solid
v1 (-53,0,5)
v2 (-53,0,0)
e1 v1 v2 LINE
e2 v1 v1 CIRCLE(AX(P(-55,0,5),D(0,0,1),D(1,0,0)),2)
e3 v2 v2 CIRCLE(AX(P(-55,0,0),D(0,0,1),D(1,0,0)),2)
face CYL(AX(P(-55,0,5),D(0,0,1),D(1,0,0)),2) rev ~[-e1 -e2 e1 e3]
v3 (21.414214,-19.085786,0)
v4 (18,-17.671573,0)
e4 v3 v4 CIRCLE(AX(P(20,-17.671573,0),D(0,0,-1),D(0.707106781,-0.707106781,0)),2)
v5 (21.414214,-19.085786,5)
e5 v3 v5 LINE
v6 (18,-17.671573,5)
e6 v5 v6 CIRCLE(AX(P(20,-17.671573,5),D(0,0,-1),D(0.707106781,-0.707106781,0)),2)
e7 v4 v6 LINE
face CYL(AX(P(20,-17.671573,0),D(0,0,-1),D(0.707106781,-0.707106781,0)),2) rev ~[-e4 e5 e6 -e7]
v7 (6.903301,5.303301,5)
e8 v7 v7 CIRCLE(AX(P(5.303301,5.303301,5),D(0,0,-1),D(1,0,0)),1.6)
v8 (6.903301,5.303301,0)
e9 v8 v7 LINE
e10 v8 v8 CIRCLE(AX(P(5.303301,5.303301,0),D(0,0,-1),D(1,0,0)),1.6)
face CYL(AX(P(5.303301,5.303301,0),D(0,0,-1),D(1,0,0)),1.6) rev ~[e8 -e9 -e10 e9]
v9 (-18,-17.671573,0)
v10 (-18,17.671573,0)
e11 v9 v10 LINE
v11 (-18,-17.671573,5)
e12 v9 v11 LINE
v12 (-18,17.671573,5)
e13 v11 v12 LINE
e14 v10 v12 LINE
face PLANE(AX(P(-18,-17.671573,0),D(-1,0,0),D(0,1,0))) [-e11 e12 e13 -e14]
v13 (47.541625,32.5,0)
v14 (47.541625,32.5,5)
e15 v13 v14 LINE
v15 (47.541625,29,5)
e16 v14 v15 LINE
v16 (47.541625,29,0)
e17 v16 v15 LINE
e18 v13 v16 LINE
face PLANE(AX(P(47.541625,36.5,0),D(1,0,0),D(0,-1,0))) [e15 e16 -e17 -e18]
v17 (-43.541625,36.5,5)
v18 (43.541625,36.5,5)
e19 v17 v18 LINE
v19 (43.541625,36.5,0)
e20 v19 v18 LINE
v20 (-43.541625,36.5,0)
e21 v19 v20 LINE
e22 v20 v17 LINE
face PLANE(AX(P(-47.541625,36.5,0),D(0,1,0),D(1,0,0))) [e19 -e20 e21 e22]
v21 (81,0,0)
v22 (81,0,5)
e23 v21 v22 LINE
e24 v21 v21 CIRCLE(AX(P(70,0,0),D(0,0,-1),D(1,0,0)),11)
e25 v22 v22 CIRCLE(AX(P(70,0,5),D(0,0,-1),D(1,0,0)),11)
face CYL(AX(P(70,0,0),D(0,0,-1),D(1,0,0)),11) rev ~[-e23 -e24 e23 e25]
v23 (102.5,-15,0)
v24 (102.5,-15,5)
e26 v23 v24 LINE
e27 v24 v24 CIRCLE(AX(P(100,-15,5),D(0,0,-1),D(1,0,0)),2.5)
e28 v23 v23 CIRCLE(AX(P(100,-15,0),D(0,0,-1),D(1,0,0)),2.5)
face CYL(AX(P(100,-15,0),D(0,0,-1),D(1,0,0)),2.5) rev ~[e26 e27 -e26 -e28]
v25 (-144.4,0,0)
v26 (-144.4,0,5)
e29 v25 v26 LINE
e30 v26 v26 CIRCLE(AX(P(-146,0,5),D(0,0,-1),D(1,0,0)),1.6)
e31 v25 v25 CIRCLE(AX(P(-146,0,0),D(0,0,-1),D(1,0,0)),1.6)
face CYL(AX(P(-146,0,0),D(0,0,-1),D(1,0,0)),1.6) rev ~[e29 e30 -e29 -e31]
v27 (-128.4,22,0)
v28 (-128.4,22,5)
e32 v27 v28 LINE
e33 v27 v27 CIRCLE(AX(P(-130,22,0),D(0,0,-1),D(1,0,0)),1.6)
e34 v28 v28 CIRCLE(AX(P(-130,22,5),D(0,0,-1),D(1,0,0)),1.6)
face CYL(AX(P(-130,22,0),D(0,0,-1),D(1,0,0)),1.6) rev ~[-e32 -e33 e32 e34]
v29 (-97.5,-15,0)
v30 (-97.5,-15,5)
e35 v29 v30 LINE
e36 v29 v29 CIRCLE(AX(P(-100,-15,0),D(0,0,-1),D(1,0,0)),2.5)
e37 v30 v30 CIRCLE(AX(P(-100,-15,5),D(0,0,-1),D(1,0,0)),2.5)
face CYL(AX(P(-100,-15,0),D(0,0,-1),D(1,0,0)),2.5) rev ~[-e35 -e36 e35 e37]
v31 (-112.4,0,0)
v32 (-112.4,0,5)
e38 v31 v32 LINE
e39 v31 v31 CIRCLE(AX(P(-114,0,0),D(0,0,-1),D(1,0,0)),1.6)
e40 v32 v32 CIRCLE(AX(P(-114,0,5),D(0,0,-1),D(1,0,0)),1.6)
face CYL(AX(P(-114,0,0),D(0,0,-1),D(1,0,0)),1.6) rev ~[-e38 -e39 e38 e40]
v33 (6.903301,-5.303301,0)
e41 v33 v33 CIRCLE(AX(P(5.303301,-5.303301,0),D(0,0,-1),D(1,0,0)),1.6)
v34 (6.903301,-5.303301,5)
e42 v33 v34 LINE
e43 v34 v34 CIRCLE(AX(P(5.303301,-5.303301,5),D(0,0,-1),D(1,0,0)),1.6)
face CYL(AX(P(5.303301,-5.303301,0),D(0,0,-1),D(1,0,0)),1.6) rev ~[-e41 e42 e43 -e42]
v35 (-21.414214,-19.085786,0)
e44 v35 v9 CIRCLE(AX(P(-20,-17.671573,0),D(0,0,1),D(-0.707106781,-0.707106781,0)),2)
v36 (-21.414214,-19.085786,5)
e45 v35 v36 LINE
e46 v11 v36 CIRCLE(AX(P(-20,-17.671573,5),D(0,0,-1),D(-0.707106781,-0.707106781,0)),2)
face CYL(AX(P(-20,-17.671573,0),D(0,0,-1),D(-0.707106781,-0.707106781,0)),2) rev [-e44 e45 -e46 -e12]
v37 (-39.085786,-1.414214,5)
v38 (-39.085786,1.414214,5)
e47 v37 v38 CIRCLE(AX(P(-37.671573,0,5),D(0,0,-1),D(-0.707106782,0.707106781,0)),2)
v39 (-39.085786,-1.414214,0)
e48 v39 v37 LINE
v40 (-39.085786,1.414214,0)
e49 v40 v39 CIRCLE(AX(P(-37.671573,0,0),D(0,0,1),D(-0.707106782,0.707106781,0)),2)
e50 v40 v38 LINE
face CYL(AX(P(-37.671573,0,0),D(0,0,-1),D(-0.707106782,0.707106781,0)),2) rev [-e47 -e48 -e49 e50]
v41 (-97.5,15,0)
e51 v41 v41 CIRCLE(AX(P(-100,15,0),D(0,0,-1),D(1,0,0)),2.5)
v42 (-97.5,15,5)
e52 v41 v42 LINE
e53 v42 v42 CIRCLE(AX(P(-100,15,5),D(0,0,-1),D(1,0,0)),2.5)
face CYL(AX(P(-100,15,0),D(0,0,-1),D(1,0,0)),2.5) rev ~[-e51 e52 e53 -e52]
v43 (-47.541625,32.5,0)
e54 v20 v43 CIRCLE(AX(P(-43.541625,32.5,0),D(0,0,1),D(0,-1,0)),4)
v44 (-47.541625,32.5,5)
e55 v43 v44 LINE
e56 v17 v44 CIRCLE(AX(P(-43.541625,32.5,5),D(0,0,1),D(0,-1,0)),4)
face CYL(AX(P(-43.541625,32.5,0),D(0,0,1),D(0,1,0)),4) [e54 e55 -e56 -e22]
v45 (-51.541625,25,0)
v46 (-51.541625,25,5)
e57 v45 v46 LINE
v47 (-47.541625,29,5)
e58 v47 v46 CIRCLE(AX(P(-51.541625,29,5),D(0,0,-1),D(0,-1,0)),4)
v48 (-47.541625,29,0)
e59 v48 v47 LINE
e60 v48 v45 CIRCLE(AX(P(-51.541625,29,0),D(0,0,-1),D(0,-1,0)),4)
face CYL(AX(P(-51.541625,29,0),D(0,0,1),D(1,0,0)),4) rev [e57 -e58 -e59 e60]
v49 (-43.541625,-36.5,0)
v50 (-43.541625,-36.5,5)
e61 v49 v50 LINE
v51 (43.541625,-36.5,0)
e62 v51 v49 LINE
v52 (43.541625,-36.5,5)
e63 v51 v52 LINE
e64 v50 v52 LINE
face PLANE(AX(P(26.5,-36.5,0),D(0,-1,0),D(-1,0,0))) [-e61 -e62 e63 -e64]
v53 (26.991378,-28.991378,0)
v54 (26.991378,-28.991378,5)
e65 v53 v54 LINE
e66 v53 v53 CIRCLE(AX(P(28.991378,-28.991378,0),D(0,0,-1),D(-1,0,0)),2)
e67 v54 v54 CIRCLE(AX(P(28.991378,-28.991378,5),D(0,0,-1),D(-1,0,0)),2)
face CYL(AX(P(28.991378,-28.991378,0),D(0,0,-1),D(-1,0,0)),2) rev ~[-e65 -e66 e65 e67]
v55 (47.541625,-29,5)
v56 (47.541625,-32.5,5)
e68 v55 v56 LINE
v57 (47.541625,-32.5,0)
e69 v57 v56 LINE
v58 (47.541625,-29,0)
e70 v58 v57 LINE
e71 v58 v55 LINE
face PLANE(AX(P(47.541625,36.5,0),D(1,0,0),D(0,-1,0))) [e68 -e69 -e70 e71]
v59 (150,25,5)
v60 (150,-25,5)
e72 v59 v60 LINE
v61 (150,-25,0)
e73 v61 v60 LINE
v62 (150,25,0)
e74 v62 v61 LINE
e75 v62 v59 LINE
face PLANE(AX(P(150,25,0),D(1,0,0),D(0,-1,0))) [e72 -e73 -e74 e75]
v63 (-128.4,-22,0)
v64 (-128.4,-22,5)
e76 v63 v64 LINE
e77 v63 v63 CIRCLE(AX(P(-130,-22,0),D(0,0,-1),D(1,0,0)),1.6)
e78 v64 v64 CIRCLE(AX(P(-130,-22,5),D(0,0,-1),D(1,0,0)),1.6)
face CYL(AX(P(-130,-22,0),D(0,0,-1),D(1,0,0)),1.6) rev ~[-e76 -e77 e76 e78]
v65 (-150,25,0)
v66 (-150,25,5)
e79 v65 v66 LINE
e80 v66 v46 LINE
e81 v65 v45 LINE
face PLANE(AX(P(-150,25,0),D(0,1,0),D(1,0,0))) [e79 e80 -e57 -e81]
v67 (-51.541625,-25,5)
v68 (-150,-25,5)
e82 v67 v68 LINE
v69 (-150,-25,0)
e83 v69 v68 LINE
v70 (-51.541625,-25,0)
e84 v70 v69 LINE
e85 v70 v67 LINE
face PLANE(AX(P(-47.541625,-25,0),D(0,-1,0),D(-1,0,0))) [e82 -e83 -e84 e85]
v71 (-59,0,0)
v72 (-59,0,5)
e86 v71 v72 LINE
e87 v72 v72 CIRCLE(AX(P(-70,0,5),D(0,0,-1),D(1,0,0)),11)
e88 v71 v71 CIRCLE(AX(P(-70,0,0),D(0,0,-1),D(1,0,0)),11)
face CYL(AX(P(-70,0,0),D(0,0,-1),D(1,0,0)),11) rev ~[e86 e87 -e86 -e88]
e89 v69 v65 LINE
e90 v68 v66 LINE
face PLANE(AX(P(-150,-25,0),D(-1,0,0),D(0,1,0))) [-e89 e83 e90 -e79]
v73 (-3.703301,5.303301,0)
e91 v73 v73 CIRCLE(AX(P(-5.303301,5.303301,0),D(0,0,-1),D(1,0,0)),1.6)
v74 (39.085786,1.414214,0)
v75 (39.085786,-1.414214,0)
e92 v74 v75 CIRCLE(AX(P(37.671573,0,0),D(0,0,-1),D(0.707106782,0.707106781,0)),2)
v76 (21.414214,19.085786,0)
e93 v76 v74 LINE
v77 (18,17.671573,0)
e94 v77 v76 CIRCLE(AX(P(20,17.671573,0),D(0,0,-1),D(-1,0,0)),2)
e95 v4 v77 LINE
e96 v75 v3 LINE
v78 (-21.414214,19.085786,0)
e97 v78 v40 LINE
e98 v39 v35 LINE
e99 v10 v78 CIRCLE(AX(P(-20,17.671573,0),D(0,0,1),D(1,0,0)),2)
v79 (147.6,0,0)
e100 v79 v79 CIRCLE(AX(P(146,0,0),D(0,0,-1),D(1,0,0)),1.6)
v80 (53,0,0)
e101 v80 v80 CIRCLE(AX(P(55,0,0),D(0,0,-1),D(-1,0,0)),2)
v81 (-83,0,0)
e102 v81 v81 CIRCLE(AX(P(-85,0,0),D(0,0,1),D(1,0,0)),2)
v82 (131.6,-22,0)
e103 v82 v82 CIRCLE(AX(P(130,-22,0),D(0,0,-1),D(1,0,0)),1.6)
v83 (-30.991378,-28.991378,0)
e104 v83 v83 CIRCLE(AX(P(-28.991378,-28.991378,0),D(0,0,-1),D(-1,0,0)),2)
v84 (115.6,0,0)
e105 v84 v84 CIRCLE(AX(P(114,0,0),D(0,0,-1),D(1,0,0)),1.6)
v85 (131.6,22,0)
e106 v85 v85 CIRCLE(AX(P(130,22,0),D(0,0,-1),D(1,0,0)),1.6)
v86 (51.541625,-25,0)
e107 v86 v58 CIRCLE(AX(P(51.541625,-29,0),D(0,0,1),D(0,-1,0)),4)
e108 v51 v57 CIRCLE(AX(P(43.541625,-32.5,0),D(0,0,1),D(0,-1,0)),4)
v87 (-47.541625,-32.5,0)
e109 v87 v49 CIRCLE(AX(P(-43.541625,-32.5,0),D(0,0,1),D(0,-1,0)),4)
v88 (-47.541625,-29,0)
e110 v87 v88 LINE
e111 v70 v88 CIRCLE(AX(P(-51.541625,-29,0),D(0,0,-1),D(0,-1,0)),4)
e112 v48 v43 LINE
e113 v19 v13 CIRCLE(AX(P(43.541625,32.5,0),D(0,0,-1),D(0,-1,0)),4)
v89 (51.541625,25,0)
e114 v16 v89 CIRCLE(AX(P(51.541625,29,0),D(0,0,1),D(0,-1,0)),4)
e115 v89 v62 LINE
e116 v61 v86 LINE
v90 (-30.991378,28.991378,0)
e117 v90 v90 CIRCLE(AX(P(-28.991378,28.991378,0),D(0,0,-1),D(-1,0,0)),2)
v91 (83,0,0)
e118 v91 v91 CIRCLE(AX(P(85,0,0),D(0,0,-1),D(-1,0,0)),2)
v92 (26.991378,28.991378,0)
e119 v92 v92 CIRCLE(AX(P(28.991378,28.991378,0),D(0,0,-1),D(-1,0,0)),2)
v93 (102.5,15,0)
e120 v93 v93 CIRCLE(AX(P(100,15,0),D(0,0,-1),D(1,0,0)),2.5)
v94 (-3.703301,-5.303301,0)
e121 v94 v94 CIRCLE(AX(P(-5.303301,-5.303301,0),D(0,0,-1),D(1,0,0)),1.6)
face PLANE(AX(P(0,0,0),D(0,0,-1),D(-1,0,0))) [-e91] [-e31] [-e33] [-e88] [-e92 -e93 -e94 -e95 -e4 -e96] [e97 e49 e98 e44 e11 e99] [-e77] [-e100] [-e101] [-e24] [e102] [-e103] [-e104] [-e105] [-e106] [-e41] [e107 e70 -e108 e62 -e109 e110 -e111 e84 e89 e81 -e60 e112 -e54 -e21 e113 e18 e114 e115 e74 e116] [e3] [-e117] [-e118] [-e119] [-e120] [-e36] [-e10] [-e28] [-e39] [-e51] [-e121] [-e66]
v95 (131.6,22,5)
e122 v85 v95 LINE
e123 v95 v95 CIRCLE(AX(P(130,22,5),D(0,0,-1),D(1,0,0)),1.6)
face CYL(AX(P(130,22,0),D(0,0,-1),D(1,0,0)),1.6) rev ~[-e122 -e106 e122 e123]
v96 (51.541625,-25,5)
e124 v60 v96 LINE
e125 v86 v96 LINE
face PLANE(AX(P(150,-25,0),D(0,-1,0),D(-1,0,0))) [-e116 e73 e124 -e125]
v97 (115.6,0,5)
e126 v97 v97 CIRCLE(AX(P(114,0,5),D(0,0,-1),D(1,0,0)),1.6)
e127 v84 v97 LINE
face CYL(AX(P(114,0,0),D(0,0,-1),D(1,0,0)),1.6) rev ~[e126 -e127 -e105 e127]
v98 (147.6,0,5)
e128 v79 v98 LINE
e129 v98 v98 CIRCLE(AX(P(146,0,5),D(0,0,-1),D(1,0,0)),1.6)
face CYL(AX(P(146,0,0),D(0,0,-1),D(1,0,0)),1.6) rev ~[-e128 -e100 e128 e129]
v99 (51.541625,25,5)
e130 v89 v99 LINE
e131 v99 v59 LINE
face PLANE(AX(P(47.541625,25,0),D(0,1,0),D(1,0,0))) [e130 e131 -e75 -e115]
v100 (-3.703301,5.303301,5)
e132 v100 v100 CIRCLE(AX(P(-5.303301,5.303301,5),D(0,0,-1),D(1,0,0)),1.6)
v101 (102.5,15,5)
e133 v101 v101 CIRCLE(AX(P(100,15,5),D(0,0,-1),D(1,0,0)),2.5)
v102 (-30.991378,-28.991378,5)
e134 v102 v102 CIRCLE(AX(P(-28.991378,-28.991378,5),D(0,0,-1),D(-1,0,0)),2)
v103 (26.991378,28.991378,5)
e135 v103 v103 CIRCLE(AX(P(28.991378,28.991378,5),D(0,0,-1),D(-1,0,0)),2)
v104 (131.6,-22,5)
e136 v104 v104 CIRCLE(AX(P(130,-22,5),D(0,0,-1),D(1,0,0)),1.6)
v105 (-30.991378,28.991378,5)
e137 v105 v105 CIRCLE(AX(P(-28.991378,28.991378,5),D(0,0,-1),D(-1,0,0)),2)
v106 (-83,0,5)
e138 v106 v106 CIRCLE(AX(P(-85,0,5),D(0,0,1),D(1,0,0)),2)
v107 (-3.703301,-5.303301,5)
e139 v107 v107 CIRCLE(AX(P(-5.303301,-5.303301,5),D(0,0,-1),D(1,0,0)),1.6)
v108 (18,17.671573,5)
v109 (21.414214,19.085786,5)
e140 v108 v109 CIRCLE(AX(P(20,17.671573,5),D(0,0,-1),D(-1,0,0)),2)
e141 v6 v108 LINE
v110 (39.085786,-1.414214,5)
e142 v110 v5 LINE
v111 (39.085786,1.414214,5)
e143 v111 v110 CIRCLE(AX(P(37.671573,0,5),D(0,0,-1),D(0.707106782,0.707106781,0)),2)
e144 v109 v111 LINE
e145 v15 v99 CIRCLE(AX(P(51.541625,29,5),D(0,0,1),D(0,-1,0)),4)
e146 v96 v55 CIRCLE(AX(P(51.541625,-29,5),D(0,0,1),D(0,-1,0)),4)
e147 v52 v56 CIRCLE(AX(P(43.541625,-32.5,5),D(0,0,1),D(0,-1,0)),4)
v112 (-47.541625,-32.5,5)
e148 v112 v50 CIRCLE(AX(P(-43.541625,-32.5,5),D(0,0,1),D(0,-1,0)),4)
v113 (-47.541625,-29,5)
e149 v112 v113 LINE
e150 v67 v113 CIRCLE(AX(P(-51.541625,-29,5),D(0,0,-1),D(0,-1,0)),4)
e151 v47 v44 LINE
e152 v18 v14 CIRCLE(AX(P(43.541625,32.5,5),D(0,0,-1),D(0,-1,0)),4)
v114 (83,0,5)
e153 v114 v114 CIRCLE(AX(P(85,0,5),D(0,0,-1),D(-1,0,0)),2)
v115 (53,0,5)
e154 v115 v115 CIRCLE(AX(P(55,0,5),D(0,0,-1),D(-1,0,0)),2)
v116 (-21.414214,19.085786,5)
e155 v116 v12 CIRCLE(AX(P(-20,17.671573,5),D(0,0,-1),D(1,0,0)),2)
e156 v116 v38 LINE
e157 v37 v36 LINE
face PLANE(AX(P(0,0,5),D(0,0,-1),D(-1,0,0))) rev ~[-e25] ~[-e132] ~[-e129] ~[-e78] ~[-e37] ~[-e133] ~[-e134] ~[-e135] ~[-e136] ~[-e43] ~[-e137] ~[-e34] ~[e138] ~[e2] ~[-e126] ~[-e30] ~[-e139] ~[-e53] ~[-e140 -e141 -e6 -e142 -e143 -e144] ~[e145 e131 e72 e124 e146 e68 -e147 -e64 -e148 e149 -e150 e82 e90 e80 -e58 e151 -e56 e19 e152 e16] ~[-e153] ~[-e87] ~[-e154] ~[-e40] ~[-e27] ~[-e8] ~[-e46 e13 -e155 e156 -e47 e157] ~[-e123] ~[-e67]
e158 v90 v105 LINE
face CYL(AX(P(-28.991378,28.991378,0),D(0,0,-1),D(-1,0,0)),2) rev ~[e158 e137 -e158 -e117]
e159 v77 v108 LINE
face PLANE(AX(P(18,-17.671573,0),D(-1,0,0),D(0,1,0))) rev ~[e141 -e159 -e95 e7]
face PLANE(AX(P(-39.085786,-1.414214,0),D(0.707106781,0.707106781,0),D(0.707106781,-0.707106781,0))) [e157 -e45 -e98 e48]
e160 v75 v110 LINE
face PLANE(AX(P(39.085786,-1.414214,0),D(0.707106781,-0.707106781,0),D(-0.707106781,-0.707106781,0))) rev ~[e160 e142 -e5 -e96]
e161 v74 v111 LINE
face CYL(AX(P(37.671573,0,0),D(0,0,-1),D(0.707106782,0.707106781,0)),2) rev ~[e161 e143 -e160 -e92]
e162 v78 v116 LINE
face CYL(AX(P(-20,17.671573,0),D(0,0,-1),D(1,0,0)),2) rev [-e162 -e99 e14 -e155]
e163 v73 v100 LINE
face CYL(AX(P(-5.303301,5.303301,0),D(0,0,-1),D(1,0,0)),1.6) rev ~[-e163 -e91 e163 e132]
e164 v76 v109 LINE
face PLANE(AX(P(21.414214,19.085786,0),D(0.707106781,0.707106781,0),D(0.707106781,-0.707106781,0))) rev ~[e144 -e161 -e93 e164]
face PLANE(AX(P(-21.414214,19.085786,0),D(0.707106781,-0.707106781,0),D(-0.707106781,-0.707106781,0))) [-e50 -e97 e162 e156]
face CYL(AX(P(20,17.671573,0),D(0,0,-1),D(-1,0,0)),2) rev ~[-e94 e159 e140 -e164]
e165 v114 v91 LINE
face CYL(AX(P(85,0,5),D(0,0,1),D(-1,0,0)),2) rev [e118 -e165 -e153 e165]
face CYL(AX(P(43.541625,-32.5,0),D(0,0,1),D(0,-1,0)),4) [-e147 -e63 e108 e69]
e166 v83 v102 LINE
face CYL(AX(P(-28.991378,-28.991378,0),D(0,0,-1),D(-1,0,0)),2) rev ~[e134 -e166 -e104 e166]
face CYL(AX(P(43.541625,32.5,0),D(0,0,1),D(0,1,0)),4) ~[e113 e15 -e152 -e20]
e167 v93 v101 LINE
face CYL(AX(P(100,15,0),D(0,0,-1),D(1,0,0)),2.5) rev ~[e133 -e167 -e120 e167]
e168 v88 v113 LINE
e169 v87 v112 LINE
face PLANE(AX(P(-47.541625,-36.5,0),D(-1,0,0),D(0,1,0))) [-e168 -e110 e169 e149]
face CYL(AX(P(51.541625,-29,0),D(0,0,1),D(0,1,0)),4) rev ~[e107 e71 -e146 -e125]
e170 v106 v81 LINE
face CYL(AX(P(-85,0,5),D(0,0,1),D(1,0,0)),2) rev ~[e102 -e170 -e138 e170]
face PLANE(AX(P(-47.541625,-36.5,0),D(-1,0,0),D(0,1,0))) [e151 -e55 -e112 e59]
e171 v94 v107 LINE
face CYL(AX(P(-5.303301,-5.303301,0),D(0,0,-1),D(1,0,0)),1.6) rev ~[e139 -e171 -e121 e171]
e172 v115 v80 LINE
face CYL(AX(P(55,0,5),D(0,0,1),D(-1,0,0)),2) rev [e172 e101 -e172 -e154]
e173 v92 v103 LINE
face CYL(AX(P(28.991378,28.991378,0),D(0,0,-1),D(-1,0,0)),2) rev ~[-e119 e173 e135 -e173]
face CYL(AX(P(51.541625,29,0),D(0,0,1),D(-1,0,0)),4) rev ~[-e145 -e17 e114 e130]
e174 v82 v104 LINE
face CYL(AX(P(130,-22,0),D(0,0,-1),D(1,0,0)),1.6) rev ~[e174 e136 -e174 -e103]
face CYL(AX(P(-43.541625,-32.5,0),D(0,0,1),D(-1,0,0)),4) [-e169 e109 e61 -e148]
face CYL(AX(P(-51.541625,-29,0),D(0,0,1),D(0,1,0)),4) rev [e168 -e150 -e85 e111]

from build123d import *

# Parameters (mm, degrees)
SKETCH_1_R          = 2.1
SKETCH_1_R_2        = 1.6
SKETCH_1_R_3        = 11
SKETCH_1_R_4        = 2.5
EXTRUDE_1_DEPTH     = 5
SKETCH_2_R          = 3.689501017
SKETCH_2_R_2        = 3.294011366
EXTRUDE_2_DEPTH     = 5
CUT_EXTRUDE_1_REACH = 156.458
SKETCH_3_R          = 2
SKETCH_5_W          = 25.495020877
SKETCH_5_H          = 33.419148988
EXTRUDE_3_DEPTH     = 5
CUT_EXTRUDE_2_REACH = 156.458
SKETCH_4_R          = 2
FILLET_1_R          = 4
CUT_EXTRUDE_3_DEPTH = 10


with BuildPart() as part:
    # 草图1 → 凸台-拉伸1 (new body)
    with BuildSketch(Plane(origin=(0, 0, 0), x_dir=(-1, 0, 0), z_dir=(0, 0, -1))):
        with BuildLine():
            Line((-26.5, -36.5), (26.5, -36.5))
            ThreePointArc((26.5, -36.5), (31.295831523, -35.274964387), (34.916650165, -31.9))
            ThreePointArc((34.916650165, -31.9), (40.347878128, -26.837553419), (47.541625413, -25))
            Line((47.541625413, -25), (150, -25))
            Line((150, -25), (150, 25))
            Line((150, 25), (47.541625413, 25))
            ThreePointArc((47.541625413, 25), (40.347878128, 26.837553419), (34.916650165, 31.9))
            ThreePointArc((34.916650165, 31.9), (31.295831523, 35.274964387), (26.5, 36.5))
            Line((26.5, 36.5), (-26.5, 36.5))
            ThreePointArc((-26.5, 36.5), (-31.295831523, 35.274964387), (-34.916650165, 31.9))
            ThreePointArc((-34.916650165, 31.9), (-40.347878128, 26.837553419), (-47.541625413, 25))
            Line((-47.541625413, 25), (-150, 25))
            Line((-150, 25), (-150, -25))
            Line((-150, -25), (-47.541625413, -25))
            ThreePointArc((-47.541625413, -25), (-40.347878128, -26.837553419), (-34.916650165, -31.9))
            ThreePointArc((-34.916650165, -31.9), (-31.295831523, -35.274964387), (-26.5, -36.5))
        make_face()
        with Locations(Location((-29, 29, 0), (0, 0, 180))):
            Circle(SKETCH_1_R, mode=Mode.SUBTRACT)
        with Locations(Location((-29, -29, 0), (0, 0, 180))):
            Circle(SKETCH_1_R, mode=Mode.SUBTRACT)
        with Locations(Location((29, -29, 0), (0, 0, 180))):
            Circle(SKETCH_1_R, mode=Mode.SUBTRACT)
        with Locations(Location((29, 29, 0), (0, 0, 180))):
            Circle(SKETCH_1_R, mode=Mode.SUBTRACT)
        with Locations(Location((-54.5, 0, 0), (0, 0, 180))):
            Circle(SKETCH_1_R, mode=Mode.SUBTRACT)
        with Locations(Location((-114, 0, 0), (0, 0, 180))):
            Circle(SKETCH_1_R_2, mode=Mode.SUBTRACT)
        with Locations(Location((-5.303300859, 5.303300859, 0), (0, 0, 180))):
            Circle(SKETCH_1_R_2, mode=Mode.SUBTRACT)
        with Locations(Location((5.303300859, 5.303300859, 0), (0, 0, 180))):
            Circle(SKETCH_1_R_2, mode=Mode.SUBTRACT)
        with Locations(Location((70, 0, 0), (0, 0, 180))):
            Circle(SKETCH_1_R_3, mode=Mode.SUBTRACT)
        with Locations(Location((-85.5, 0, 0), (0, 0, 180))):
            Circle(SKETCH_1_R, mode=Mode.SUBTRACT)
        with Locations(Location((85.5, 0, 0), (0, 0, 180))):
            Circle(SKETCH_1_R, mode=Mode.SUBTRACT)
        with Locations(Location((54.5, 0, 0), (0, 0, 180))):
            Circle(SKETCH_1_R, mode=Mode.SUBTRACT)
        with Locations(Location((-70, 0, 0), (0, 0, 180))):
            Circle(SKETCH_1_R_3, mode=Mode.SUBTRACT)
        with Locations(Location((5.303300859, -5.303300859, 0), (0, 0, 180))):
            Circle(SKETCH_1_R_2, mode=Mode.SUBTRACT)
        with Locations(Location((-5.303300859, -5.303300859, 0), (0, 0, 180))):
            Circle(SKETCH_1_R_2, mode=Mode.SUBTRACT)
        with Locations(Location((114, 0, 0), (0, 0, 180))):
            Circle(SKETCH_1_R_2, mode=Mode.SUBTRACT)
        with Locations(Location((146, 0, 0), (0, 0, 180))):
            Circle(SKETCH_1_R_2, mode=Mode.SUBTRACT)
        with Locations(Location((130, 22, 0), (0, 0, 180))):
            Circle(SKETCH_1_R_2, mode=Mode.SUBTRACT)
        with Locations(Location((130, -22, 0), (0, 0, 180))):
            Circle(SKETCH_1_R_2, mode=Mode.SUBTRACT)
        with Locations(Location((-130, -22, 0), (0, 0, 180))):
            Circle(SKETCH_1_R_2, mode=Mode.SUBTRACT)
        with Locations(Location((-130, 22, 0), (0, 0, 180))):
            Circle(SKETCH_1_R_2, mode=Mode.SUBTRACT)
        with Locations(Location((-146, 0, 0), (0, 0, 180))):
            Circle(SKETCH_1_R_2, mode=Mode.SUBTRACT)
        with Locations(Location((100, 15, 0), (0, 0, 180))):
            Circle(SKETCH_1_R_4, mode=Mode.SUBTRACT)
        with Locations(Location((-100, 15, 0), (0, 0, 180))):
            Circle(SKETCH_1_R_4, mode=Mode.SUBTRACT)
        with Locations(Location((-100, -15, 0), (0, 0, 180))):
            Circle(SKETCH_1_R_4, mode=Mode.SUBTRACT)
        with Locations(Location((100, -15, 0), (0, 0, 180))):
            Circle(SKETCH_1_R_4, mode=Mode.SUBTRACT)
    extrude(amount=-EXTRUDE_1_DEPTH)

    # 草图2 → 凸台-拉伸2 (add)
    with BuildSketch(Plane.XY.offset(5)):
        with Locations((-85.5, 0)):
            Circle(SKETCH_2_R)
        with Locations((-54.5, 0)):
            Circle(SKETCH_2_R_2)
    extrude_2 = extrude(amount=-EXTRUDE_2_DEPTH)

    # 草图3 → 切除-拉伸1 (cut, up to next)
    with BuildSketch(Plane.XY.offset(5), mode=Mode.PRIVATE) as cut_extrude_1_sk1:
        with Locations((-85, 0)):
            Circle(SKETCH_3_R)
    cut_extrude_1_tool1 = extrude(cut_extrude_1_sk1.sketch, amount=-CUT_EXTRUDE_1_REACH, mode=Mode.PRIVATE) & part.part
    # 草图3 → 切除-拉伸1 (cut, up to next)
    with BuildSketch(Plane.XY.offset(5), mode=Mode.PRIVATE) as cut_extrude_1_sk2:
        with Locations((-55, 0)):
            Circle(SKETCH_3_R)
    cut_extrude_1_tool2 = extrude(cut_extrude_1_sk2.sketch, amount=-CUT_EXTRUDE_1_REACH, mode=Mode.PRIVATE) & part.part
    cut_extrude_1_1 = cut_extrude_1_tool1.solids().sort_by_distance((-85, 0, 5))[0]
    add(cut_extrude_1_1, mode=Mode.SUBTRACT)
    cut_extrude_1_2 = cut_extrude_1_tool2.solids().sort_by_distance((-55, 0, 5))[0]
    add(cut_extrude_1_2, mode=Mode.SUBTRACT)
    cut_extrude_1 = cut_extrude_1_1 + cut_extrude_1_2  # 切除-拉伸1 as one shape, for the pattern or mirror that repeats it

    # 镜向1: 凸台-拉伸2, 切除-拉伸1 across plane
    add(extrude_2.mirror(Plane.ZY))
    add(cut_extrude_1.mirror(Plane.ZY), mode=Mode.SUBTRACT)

    # 草图5 → 凸台-拉伸3 (add)
    with BuildSketch(Plane(origin=(0, 0, 0), x_dir=(-1, 0, 0), z_dir=(0, 0, -1))):
        Polygon((47.541625413, 25), (47.541625413, 36.5), (21.518894716, 36.5), (-47.541625413, 36.5), (-47.541625413, 25), (-47.541625413, -25), (-47.541625413, -36.5), (26.5, -36.5), (47.541625413, -36.5), (47.541625413, -25), align=None)
        with Locations((-1.313647453, -0.287111202)):
            Rectangle(SKETCH_5_W, SKETCH_5_H, mode=Mode.SUBTRACT)
    extrude(amount=-EXTRUDE_3_DEPTH)

    # 草图4 → 切除-拉伸2 (cut, up to next)
    with BuildSketch(Plane(origin=(0, 0, 0), x_dir=(-1, 0, 0), z_dir=(0, 0, -1)), mode=Mode.PRIVATE) as cut_extrude_2_sk1:
        with Locations((28.991378029, -28.991378029)):
            Circle(SKETCH_4_R)
    cut_extrude_2_tool1 = extrude(cut_extrude_2_sk1.sketch, amount=-CUT_EXTRUDE_2_REACH, mode=Mode.PRIVATE) & part.part
    # 草图4 → 切除-拉伸2 (cut, up to next)
    with BuildSketch(Plane(origin=(0, 0, 0), x_dir=(-1, 0, 0), z_dir=(0, 0, -1)), mode=Mode.PRIVATE) as cut_extrude_2_sk2:
        with Locations((-28.991378029, 28.991378029)):
            Circle(SKETCH_4_R)
    cut_extrude_2_tool2 = extrude(cut_extrude_2_sk2.sketch, amount=-CUT_EXTRUDE_2_REACH, mode=Mode.PRIVATE) & part.part
    # 草图4 → 切除-拉伸2 (cut, up to next)
    with BuildSketch(Plane(origin=(0, 0, 0), x_dir=(-1, 0, 0), z_dir=(0, 0, -1)), mode=Mode.PRIVATE) as cut_extrude_2_sk3:
        with Locations((28.991378029, 28.991378029)):
            Circle(SKETCH_4_R)
    cut_extrude_2_tool3 = extrude(cut_extrude_2_sk3.sketch, amount=-CUT_EXTRUDE_2_REACH, mode=Mode.PRIVATE) & part.part
    # 草图4 → 切除-拉伸2 (cut, up to next)
    with BuildSketch(Plane(origin=(0, 0, 0), x_dir=(-1, 0, 0), z_dir=(0, 0, -1)), mode=Mode.PRIVATE) as cut_extrude_2_sk4:
        with Locations((-28.991378029, -28.991378029)):
            Circle(SKETCH_4_R)
    cut_extrude_2_tool4 = extrude(cut_extrude_2_sk4.sketch, amount=-CUT_EXTRUDE_2_REACH, mode=Mode.PRIVATE) & part.part
    add(cut_extrude_2_tool1.solids().sort_by_distance((-28.991378, -28.991378, 0))[0], mode=Mode.SUBTRACT)
    add(cut_extrude_2_tool2.solids().sort_by_distance((28.991378, 28.991378, 0))[0], mode=Mode.SUBTRACT)
    add(cut_extrude_2_tool3.solids().sort_by_distance((-28.991378, 28.991378, 0))[0], mode=Mode.SUBTRACT)
    add(cut_extrude_2_tool4.solids().sort_by_distance((28.991378, -28.991378, 0))[0], mode=Mode.SUBTRACT)

    # 圆角1
    fillet_1_edges = [part.edges().sort_by_distance(p)[0] for p in [
        (-47.541625413, 36.5, 2.5),
        (47.541625413, -36.5, 2.5),
        (47.541625413, -25, 2.5),
        (47.541625413, 25, 2.5),
        (-47.541625413, 25, 2.5),
        (-47.541625413, -36.5, 2.5),
        (47.541625413, 36.5, 2.5),
        (-47.541625413, -25, 2.5),
    ]]
    fillet(fillet_1_edges, radius=FILLET_1_R)

    # 草图6 → 切除-拉伸3 (cut)
    with BuildSketch(Plane(origin=(0, 0, 0), x_dir=(-1, 0, 0), z_dir=(0, 0, -1))):
        with BuildLine():
            Line((-21.414213562, 19.085786438), (-39.085786438, 1.414213562))
            ThreePointArc((-39.085786438, 1.414213562), (-39.671572875, 0), (-39.085786438, -1.414213562))
            Line((-39.085786438, -1.414213562), (-21.414213562, -19.085786438))
            ThreePointArc((-21.414213562, -19.085786438), (-19.234633135, -19.51933194), (-18, -17.671572875))
            Line((-18, -17.671572875), (-18, 17.671572875))
            ThreePointArc((-18, 17.671572875), (-19.234633135, 19.51933194), (-21.414213562, 19.085786438))
        make_face()
        with BuildLine():
            Line((18, -17.671572875), (18, 17.671572875))
            ThreePointArc((18, 17.671572875), (19.234633135, 19.51933194), (21.414213562, 19.085786438))
            Line((21.414213562, 19.085786438), (39.085786438, 1.414213562))
            ThreePointArc((39.085786438, 1.414213562), (39.671572875, 0), (39.085786438, -1.414213562))
            Line((39.085786438, -1.414213562), (21.414213562, -19.085786438))
            ThreePointArc((21.414213562, -19.085786438), (19.234633135, -19.51933194), (18, -17.671572875))
        make_face()
    extrude(amount=-CUT_EXTRUDE_3_DEPTH, mode=Mode.SUBTRACT)


solid = part.part
